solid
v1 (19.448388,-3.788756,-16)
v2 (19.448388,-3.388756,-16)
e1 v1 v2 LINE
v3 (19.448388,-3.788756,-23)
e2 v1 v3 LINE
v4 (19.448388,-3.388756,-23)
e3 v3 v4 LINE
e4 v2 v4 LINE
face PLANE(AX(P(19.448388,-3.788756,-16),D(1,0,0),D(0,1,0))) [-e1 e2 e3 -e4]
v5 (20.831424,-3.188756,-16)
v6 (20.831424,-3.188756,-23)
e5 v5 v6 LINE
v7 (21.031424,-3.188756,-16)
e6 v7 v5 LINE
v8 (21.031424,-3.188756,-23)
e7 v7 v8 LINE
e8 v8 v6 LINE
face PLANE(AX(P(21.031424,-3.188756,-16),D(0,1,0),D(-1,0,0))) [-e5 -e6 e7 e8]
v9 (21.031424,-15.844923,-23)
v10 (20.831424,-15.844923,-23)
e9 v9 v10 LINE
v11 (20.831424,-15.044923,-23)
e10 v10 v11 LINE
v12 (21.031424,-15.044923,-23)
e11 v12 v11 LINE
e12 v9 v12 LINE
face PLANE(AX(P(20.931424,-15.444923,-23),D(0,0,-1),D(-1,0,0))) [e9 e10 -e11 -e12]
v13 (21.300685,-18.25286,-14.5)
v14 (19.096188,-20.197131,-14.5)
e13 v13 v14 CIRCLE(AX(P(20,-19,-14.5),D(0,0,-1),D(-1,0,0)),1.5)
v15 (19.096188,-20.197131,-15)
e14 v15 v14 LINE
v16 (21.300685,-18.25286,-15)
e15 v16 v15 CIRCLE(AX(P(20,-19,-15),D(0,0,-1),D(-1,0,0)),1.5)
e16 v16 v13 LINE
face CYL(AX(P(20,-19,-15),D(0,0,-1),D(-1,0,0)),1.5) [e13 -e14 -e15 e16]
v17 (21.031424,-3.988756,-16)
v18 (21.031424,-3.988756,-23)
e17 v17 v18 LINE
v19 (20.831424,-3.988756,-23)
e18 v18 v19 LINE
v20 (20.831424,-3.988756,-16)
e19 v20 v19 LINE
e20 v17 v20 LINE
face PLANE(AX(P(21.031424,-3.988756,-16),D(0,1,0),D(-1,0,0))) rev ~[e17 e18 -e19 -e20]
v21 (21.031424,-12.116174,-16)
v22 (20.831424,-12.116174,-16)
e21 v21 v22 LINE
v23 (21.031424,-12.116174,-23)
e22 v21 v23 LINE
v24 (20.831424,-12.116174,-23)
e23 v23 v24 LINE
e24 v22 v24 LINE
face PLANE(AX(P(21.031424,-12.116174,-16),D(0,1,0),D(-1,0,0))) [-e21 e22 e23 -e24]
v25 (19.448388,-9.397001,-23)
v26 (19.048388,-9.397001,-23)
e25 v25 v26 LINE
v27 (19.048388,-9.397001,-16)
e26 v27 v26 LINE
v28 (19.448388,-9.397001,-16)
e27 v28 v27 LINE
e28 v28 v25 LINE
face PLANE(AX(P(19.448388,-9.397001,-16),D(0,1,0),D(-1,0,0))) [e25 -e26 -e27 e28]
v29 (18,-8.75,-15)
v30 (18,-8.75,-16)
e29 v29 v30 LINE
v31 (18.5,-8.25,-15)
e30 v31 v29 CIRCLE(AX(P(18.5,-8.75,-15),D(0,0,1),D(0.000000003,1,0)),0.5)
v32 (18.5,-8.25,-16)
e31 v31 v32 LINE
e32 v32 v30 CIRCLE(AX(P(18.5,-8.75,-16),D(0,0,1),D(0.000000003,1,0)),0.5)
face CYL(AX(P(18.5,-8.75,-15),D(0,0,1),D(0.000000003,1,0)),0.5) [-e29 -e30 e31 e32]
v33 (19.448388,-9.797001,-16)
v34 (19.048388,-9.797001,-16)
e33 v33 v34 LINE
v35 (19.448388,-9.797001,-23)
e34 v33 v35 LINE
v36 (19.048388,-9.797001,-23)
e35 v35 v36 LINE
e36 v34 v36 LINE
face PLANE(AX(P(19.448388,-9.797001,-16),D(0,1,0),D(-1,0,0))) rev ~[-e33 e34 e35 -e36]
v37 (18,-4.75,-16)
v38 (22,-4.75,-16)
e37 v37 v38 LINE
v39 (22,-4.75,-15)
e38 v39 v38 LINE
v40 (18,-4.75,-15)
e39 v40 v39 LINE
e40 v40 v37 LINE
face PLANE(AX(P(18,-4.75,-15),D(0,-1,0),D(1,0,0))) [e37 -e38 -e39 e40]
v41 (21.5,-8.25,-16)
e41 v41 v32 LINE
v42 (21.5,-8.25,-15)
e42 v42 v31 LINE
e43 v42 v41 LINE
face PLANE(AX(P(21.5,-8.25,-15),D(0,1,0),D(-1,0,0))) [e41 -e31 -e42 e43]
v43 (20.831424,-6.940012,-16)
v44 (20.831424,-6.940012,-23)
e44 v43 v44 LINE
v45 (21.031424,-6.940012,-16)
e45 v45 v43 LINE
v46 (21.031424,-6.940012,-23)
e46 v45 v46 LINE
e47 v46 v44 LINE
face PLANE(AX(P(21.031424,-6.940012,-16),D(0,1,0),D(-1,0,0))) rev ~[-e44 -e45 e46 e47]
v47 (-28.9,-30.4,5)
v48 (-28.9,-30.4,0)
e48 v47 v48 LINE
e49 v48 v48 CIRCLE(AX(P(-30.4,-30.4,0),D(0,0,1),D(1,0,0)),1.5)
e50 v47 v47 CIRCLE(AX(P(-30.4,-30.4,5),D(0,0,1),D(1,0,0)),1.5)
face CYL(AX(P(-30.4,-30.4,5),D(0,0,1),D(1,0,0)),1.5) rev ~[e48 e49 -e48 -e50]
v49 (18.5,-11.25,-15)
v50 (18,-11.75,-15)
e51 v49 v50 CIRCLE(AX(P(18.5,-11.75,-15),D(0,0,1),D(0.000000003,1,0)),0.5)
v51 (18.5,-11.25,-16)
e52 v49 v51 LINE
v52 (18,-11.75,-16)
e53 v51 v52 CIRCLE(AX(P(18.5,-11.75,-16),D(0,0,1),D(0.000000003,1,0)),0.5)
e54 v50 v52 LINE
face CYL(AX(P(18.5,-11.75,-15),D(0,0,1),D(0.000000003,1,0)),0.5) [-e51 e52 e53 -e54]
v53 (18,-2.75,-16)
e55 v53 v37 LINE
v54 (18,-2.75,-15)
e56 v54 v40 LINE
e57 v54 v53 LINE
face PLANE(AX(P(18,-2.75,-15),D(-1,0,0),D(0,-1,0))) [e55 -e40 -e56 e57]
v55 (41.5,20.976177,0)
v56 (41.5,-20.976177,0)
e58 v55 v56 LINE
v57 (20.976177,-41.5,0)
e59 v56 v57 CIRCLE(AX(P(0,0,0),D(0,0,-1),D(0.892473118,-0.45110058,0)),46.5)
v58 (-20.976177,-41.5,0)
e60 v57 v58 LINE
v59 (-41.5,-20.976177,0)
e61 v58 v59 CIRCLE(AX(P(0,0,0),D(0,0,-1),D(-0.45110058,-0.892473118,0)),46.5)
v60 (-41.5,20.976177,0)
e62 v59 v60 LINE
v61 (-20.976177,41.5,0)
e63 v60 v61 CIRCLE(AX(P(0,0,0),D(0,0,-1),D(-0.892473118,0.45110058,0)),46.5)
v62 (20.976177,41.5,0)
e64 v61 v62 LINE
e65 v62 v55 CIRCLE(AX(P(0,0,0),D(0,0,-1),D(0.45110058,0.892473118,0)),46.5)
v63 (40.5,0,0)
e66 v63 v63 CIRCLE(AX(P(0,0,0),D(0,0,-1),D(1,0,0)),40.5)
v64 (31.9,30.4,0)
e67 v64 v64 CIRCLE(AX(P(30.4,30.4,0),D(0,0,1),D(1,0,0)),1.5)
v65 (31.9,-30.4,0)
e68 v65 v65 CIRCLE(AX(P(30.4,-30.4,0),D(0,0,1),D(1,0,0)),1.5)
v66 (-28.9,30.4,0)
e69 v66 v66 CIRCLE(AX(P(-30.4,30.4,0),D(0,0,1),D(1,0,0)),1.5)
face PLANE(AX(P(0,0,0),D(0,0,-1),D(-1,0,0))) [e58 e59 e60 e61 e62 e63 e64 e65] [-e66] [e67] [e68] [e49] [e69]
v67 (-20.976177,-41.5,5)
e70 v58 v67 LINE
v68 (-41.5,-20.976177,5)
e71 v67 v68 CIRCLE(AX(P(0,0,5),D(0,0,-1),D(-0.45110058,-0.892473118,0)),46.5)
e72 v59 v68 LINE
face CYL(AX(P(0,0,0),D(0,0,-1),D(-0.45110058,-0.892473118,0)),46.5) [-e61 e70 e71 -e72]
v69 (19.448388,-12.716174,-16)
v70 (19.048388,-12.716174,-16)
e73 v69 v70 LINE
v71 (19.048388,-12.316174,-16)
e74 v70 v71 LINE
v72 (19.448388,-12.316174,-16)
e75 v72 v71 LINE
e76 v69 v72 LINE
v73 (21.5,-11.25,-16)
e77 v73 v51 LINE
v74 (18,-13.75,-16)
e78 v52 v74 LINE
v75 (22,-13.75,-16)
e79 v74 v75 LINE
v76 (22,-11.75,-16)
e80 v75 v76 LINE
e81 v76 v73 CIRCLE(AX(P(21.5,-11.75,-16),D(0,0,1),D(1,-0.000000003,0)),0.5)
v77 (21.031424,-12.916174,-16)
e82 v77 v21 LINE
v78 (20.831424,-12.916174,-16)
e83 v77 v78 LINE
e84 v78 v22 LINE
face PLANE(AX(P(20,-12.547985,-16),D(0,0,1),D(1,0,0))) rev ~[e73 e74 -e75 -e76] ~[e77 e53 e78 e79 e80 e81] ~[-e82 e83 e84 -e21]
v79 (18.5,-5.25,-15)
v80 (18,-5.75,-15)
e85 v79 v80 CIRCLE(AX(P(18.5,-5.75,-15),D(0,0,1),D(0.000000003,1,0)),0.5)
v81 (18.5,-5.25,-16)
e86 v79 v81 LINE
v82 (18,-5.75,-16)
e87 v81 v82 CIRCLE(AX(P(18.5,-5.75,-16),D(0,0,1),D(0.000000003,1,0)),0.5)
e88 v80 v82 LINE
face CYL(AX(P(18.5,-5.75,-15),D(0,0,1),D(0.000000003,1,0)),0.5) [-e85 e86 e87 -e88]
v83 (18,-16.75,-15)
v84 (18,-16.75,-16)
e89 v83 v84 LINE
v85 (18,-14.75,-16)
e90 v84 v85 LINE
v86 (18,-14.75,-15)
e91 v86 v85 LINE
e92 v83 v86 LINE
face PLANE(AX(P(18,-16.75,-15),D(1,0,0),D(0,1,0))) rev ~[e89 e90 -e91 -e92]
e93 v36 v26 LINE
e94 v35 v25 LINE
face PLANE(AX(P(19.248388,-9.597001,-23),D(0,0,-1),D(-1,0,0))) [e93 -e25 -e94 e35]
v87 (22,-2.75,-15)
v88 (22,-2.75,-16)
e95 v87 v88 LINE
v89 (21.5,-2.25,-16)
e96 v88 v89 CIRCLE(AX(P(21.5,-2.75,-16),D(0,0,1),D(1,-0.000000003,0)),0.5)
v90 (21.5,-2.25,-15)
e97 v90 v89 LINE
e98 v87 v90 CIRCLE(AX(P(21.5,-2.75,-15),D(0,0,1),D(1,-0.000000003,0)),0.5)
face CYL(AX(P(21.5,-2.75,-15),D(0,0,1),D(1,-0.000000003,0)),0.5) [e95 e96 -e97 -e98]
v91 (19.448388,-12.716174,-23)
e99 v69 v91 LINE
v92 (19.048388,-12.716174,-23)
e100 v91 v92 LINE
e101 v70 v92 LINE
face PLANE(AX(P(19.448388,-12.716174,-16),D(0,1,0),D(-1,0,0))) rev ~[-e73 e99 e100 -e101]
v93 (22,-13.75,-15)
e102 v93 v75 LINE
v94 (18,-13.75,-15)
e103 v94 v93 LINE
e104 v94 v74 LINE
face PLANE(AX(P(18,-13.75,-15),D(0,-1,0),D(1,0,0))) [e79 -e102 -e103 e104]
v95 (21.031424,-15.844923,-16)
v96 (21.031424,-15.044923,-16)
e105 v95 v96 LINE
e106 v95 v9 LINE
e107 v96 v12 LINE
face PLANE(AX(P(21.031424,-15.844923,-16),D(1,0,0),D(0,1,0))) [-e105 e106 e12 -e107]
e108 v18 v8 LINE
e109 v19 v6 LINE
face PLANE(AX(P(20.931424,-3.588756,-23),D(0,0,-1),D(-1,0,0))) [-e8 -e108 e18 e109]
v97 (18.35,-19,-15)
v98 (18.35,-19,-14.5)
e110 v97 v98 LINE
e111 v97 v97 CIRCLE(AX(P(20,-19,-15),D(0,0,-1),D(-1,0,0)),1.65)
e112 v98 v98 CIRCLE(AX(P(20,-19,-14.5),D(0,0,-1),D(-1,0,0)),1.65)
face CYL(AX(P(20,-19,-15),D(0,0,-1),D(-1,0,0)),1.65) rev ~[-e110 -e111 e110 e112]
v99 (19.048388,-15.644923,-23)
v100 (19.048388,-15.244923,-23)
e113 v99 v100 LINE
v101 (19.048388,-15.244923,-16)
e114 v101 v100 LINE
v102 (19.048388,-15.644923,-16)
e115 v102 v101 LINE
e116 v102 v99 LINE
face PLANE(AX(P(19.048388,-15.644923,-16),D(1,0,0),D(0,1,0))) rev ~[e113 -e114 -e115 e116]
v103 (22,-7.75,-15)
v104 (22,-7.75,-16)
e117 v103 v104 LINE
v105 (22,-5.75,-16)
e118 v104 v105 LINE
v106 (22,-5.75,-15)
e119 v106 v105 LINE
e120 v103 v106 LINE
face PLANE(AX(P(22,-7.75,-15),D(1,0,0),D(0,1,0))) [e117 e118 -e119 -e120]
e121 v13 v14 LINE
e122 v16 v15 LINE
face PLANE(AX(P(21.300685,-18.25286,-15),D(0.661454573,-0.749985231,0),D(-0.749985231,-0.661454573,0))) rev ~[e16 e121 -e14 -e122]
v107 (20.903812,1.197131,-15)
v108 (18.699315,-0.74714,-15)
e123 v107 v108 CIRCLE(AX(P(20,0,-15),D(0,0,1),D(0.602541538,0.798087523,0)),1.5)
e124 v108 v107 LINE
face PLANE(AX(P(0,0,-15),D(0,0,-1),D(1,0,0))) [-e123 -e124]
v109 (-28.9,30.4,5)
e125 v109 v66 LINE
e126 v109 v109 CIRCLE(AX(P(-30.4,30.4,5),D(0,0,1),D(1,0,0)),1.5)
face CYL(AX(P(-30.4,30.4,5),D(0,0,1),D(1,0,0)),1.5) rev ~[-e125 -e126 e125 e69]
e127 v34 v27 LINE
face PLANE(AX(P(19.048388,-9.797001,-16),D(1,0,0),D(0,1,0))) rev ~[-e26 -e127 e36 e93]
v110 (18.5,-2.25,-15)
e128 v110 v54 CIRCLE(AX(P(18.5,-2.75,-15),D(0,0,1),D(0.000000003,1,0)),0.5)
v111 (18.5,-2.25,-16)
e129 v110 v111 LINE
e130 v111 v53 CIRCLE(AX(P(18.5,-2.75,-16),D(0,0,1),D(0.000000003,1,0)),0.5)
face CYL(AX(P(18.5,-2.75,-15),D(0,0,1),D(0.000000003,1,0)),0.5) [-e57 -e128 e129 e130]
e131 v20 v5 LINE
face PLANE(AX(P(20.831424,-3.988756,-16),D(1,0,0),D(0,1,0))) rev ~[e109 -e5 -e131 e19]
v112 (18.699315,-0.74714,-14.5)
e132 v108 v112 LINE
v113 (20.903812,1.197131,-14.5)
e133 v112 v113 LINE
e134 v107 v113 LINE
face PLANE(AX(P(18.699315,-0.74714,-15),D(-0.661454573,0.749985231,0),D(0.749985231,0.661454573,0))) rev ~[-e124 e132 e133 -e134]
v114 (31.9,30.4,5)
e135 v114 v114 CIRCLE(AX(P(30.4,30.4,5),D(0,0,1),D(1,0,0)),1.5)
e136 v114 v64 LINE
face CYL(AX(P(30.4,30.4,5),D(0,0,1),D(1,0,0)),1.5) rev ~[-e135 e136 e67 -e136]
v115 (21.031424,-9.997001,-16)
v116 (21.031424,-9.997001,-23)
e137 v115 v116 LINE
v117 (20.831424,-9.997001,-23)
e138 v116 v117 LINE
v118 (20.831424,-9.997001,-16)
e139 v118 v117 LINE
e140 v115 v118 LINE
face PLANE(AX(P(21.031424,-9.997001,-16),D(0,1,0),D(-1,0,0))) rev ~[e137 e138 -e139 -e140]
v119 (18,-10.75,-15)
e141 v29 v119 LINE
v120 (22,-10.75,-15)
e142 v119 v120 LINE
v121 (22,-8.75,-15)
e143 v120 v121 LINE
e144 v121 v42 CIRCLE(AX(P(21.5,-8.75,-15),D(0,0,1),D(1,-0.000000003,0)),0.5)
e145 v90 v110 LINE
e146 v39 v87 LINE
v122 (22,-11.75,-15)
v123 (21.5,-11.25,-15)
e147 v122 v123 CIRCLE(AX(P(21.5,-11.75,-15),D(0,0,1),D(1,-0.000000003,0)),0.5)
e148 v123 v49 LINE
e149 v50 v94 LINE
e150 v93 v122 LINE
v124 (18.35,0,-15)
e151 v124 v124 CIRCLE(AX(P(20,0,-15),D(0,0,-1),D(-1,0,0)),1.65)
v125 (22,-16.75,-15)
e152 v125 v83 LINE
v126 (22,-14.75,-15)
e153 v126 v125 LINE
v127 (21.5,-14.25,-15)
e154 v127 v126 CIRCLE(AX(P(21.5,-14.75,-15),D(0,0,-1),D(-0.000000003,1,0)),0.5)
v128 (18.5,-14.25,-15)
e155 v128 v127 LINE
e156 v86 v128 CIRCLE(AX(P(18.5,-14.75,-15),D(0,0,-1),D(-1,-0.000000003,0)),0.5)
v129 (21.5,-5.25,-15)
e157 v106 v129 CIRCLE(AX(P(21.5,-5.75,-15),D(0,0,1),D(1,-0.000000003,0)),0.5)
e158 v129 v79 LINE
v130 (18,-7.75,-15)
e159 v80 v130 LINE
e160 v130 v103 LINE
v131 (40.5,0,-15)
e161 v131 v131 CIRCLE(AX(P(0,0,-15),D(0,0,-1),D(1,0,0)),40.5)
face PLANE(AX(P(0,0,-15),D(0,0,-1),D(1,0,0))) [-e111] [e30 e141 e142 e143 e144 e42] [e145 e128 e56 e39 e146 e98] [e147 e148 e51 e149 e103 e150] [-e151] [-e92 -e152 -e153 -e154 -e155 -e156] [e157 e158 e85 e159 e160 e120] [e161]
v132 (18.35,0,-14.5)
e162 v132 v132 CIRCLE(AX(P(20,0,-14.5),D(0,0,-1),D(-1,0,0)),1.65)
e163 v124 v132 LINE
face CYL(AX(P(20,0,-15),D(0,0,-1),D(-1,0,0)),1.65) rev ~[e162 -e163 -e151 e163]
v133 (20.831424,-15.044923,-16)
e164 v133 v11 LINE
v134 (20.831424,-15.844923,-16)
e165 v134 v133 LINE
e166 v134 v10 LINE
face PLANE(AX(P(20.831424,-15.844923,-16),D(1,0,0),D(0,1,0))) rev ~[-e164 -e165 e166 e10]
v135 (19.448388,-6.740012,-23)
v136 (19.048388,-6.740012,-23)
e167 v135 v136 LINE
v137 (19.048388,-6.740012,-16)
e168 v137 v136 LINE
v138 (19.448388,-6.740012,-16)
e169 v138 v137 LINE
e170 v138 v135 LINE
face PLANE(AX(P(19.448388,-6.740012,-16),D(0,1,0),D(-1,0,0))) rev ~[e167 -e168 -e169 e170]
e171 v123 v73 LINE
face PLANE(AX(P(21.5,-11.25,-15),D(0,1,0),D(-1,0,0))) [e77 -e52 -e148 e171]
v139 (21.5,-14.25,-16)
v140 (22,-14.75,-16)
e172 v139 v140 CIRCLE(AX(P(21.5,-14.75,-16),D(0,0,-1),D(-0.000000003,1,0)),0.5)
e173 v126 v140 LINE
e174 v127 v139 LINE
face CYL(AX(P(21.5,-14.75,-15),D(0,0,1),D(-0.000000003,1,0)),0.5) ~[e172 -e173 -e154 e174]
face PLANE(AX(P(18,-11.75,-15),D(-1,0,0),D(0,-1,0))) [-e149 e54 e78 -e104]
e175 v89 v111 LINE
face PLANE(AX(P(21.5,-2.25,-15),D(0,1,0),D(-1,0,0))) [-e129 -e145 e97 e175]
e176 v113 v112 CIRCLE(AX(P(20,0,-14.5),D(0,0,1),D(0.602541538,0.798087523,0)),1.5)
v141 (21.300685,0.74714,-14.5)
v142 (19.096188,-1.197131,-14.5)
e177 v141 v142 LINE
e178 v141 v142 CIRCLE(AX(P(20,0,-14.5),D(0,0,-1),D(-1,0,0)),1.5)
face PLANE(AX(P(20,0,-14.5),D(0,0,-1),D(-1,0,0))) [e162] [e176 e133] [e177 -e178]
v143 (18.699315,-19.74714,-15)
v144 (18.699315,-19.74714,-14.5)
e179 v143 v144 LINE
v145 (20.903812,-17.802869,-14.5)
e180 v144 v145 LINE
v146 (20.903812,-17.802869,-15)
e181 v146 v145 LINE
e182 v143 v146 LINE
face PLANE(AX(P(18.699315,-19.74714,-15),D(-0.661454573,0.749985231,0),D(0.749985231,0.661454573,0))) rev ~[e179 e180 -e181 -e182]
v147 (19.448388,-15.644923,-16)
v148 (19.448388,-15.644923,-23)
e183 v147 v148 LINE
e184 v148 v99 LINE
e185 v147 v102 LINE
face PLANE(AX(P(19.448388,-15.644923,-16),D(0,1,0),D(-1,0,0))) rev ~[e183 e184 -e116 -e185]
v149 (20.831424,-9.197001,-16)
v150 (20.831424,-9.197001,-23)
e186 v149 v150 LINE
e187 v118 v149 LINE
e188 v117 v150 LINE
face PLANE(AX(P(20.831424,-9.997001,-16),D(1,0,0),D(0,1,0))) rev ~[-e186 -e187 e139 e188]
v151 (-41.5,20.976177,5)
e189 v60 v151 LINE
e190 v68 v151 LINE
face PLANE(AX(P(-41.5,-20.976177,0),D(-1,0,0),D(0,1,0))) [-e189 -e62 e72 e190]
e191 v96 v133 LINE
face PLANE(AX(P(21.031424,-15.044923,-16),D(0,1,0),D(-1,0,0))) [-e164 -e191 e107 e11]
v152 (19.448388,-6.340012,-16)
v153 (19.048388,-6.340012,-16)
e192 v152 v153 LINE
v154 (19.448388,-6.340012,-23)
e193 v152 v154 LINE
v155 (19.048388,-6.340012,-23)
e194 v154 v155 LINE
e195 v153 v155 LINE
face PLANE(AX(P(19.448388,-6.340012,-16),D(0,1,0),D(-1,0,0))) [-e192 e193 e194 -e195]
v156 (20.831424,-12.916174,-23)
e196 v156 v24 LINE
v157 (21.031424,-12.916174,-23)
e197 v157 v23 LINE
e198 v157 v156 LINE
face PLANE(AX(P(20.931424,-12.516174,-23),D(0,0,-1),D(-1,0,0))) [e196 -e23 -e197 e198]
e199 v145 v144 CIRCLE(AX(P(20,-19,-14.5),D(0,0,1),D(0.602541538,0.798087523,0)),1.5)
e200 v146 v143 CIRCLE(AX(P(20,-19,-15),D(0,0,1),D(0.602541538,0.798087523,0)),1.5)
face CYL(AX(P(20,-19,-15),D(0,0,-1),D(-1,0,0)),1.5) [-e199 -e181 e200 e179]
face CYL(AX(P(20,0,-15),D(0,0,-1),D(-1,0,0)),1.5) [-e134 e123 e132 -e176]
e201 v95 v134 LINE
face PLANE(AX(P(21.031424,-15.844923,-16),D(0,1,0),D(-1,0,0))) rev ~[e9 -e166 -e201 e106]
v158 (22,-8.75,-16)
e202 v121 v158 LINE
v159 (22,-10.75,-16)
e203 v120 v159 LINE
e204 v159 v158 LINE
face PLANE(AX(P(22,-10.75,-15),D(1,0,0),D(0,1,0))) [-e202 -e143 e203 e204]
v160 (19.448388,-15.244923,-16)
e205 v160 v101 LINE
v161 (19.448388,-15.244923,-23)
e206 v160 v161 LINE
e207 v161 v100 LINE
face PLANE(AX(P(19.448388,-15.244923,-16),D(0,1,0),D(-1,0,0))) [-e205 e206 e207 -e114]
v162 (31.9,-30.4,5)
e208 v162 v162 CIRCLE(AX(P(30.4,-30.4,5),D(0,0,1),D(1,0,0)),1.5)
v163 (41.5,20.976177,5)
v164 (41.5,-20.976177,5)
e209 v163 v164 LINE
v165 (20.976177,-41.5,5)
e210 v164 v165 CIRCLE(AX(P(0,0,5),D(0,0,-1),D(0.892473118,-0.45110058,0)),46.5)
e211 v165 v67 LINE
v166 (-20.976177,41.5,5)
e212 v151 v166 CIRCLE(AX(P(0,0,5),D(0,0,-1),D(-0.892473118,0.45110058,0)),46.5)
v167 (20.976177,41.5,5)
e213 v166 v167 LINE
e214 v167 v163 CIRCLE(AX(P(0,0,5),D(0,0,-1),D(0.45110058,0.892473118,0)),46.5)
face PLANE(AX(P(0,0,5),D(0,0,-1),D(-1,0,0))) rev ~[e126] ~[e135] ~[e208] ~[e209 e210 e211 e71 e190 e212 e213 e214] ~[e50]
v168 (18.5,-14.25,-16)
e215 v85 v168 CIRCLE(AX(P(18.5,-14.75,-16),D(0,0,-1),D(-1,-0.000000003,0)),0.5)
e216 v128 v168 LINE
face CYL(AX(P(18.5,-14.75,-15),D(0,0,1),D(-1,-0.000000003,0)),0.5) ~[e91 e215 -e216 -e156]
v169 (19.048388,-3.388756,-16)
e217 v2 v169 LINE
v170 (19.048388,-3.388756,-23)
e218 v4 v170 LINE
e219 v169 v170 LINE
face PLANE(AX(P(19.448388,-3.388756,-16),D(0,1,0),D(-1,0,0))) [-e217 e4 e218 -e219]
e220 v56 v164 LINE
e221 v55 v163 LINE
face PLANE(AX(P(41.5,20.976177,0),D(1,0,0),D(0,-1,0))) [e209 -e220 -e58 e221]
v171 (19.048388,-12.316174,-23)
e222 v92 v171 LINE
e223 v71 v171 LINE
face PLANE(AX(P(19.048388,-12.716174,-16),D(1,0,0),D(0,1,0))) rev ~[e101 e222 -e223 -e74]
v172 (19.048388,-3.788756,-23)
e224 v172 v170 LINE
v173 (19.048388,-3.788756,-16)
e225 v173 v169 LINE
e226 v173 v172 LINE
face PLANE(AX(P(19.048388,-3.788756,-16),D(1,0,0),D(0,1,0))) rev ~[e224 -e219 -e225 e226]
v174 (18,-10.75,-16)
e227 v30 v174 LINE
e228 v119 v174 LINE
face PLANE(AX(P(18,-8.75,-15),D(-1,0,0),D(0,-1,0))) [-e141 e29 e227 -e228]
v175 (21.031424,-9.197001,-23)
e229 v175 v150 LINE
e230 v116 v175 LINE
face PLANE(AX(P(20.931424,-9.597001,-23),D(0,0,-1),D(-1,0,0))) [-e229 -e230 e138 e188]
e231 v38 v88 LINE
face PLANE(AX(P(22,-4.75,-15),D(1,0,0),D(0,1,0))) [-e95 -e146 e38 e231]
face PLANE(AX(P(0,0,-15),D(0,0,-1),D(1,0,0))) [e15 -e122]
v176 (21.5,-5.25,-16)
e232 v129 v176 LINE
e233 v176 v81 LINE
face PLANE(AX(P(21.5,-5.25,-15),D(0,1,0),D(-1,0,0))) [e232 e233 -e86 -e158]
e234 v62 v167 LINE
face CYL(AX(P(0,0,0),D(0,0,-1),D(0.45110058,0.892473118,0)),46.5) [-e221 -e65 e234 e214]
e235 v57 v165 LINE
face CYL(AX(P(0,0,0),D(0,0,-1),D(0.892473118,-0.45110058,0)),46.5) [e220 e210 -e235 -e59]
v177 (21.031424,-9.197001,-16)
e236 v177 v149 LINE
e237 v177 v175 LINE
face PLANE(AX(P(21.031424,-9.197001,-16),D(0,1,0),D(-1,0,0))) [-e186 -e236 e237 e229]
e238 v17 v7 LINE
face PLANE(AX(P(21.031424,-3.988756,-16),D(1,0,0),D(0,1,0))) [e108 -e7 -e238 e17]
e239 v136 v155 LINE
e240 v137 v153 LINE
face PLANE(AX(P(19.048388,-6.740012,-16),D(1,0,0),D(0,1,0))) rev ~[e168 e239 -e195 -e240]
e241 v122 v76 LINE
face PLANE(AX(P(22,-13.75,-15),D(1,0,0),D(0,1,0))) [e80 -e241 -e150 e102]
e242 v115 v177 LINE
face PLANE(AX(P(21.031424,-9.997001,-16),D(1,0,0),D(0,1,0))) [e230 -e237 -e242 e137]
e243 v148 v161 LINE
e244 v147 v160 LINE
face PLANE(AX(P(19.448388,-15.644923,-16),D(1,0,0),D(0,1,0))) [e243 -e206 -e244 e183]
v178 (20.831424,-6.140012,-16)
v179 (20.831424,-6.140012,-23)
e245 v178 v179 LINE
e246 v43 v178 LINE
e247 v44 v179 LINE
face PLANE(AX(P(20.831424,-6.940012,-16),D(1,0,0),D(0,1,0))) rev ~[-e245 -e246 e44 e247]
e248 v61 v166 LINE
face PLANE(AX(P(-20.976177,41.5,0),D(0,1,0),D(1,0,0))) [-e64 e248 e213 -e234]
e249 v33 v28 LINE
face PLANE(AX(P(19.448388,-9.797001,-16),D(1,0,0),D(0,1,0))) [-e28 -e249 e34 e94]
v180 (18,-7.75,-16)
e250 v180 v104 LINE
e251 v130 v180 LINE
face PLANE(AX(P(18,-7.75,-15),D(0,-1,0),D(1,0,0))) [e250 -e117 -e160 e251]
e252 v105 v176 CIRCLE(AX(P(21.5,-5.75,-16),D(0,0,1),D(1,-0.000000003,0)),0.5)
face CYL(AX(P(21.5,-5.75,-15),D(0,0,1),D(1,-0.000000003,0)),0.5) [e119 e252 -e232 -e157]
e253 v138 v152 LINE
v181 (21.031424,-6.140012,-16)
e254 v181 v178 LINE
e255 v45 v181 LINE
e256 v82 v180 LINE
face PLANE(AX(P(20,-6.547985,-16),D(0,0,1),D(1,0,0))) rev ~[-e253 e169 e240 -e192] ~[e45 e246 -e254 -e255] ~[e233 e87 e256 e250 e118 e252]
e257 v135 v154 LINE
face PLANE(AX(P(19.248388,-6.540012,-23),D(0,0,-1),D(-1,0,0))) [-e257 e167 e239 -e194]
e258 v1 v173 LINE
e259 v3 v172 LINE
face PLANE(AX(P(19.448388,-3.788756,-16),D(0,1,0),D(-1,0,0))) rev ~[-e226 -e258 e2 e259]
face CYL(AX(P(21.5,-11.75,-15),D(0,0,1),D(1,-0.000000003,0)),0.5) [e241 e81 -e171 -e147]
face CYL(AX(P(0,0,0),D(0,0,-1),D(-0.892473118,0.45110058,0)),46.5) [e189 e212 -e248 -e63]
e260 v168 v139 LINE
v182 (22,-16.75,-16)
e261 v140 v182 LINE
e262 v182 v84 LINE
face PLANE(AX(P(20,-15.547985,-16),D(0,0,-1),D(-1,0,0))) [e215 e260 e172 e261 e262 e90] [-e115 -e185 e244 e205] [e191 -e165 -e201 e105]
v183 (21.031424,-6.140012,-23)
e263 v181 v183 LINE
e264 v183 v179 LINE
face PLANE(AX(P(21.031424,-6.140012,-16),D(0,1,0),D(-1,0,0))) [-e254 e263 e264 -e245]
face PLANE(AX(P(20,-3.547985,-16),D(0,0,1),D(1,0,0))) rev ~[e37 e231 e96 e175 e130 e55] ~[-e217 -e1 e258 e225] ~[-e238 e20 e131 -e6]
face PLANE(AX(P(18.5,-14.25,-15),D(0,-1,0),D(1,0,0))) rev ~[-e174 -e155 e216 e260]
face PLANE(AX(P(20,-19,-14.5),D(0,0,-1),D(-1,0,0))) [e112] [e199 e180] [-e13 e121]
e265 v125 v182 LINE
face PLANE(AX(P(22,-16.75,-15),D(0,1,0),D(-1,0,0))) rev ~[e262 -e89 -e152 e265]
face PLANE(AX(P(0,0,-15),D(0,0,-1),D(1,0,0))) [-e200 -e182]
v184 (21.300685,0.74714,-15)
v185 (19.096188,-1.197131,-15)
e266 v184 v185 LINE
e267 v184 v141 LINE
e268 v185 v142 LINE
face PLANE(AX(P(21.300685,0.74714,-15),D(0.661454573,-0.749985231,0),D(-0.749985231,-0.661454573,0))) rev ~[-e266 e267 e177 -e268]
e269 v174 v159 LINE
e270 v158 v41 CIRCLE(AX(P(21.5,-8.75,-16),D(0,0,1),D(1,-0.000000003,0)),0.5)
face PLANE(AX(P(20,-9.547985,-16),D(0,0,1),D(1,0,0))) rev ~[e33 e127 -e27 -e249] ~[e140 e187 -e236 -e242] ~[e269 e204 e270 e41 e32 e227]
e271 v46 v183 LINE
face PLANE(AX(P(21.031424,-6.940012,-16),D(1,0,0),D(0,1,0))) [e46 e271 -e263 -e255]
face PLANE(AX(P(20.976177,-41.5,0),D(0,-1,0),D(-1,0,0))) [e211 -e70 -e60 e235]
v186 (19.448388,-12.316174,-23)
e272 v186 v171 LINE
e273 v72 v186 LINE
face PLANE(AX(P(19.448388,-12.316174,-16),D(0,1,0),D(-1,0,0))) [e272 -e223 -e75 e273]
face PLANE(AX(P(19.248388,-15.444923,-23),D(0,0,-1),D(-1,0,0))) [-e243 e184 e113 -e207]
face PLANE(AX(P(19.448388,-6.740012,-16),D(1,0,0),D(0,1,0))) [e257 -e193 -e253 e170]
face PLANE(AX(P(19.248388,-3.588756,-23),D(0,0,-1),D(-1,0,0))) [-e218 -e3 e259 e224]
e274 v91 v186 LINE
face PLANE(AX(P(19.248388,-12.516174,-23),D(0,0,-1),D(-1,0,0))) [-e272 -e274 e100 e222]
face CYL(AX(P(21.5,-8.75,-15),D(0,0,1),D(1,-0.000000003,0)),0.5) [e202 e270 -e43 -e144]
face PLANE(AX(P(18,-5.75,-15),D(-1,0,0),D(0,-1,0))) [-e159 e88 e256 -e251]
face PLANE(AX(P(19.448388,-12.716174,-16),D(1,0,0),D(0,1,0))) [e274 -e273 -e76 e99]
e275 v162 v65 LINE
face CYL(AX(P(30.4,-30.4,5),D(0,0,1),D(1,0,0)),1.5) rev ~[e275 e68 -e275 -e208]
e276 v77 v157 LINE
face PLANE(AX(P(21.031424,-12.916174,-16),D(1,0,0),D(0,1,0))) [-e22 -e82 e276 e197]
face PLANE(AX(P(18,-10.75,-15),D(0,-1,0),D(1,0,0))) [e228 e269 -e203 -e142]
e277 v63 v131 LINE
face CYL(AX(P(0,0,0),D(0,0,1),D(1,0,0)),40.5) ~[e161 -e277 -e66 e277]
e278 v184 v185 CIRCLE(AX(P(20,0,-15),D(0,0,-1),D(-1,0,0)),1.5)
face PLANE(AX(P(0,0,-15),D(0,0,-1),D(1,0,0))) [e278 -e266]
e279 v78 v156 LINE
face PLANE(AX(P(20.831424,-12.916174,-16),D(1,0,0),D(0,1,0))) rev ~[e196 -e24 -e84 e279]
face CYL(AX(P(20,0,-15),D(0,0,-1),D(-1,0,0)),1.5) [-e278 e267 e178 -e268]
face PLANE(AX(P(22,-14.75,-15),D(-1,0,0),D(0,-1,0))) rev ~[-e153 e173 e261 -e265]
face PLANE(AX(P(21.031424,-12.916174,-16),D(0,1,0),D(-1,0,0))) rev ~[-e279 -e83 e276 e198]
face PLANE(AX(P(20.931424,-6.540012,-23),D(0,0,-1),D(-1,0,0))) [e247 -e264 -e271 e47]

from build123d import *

# Parameters (mm, degrees)
EXTRUDE_1_DEPTH     = 5
SKETCH_2_R          = 1.5
CUT_EXTRUDE_1_DEPTH = 19
SKETCH_3_R          = 40.5
EXTRUDE_2_DEPTH     = 15
EXTRUDE_3_DEPTH     = 1
SKETCH_7_W          = 0.4
SKETCH_7_H          = 0.4
SKETCH_7_W_2        = 0.2
SKETCH_7_H_2        = 0.8
EXTRUDE_4_DEPTH     = 7
SKETCH_8_R          = 1.65
SKETCH_8_R_2        = 1.5
CUT_EXTRUDE_2_DEPTH = 0.5
CUT_EXTRUDE_3_DEPTH = 0.5


with BuildPart() as part:
    # 草图1 → 凸台-拉伸1 (new body)
    with BuildSketch(Plane.XY):
        with BuildLine():
            Line((-20.976176963, 41.5), (20.976176963, 41.5))
            ThreePointArc((20.976176963, 41.5), (32.880465325, 32.880465325), (41.5, 20.976176963))
            Line((41.5, 20.976176963), (41.5, -20.976176963))
            ThreePointArc((41.5, -20.976176963), (32.880465325, -32.880465325), (20.976176963, -41.5))
            Line((20.976176963, -41.5), (-20.976176963, -41.5))
            ThreePointArc((-20.976176963, -41.5), (-32.880465325, -32.880465325), (-41.5, -20.976176963))
            Line((-41.5, -20.976176963), (-41.5, 20.976176963))
            ThreePointArc((-41.5, 20.976176963), (-32.880465325, 32.880465325), (-20.976176963, 41.5))
        make_face()
    extrude(amount=EXTRUDE_1_DEPTH)

    # 草图2 → 切除-拉伸1 (cut)
    with BuildSketch(Plane.XY.offset(5)):
        with Locations((-30.4, 30.4)):
            Circle(SKETCH_2_R)
        with Locations((30.4, 30.4)):
            Circle(SKETCH_2_R)
        with Locations((30.4, -30.4)):
            Circle(SKETCH_2_R)
        with Locations((-30.4, -30.4)):
            Circle(SKETCH_2_R)
    extrude(amount=-CUT_EXTRUDE_1_DEPTH, mode=Mode.SUBTRACT)

    # 草图3 → 凸台-拉伸2 (add)
    with BuildSketch(Plane(origin=(0, 0, 0), x_dir=(-1, 0, 0), z_dir=(0, 0, -1))):
        with Locations(Location((0, 0, 0), (0, 0, 180))):
            Circle(SKETCH_3_R)
    extrude(amount=EXTRUDE_2_DEPTH)

    # 草图6 → 凸台-拉伸3 (add)
    with BuildSketch(Plane(origin=(0, 0, -15), x_dir=(-1, 0, 0), z_dir=(0, 0, -1))):
        with BuildLine():
            Line((-18, -5.75), (-18, -7.75))
            Line((-18, -7.75), (-22, -7.75))
            Line((-22, -7.75), (-22, -5.75))
            ThreePointArc((-22, -5.75), (-21.853553391, -5.396446609), (-21.5, -5.25))
            Line((-21.5, -5.25), (-18.5, -5.25))
            ThreePointArc((-18.5, -5.25), (-18.146446609, -5.396446609), (-18, -5.75))
        make_face()
        with BuildLine():
            Line((-21.5, -8.25), (-18.5, -8.25))
            ThreePointArc((-18.5, -8.25), (-18.146446609, -8.396446609), (-18, -8.75))
            Line((-18, -8.75), (-18, -10.75))
            Line((-18, -10.75), (-22, -10.75))
            Line((-22, -10.75), (-22, -8.75))
            ThreePointArc((-22, -8.75), (-21.853553391, -8.396446609), (-21.5, -8.25))
        make_face()
        with BuildLine():
            Line((-18, -2.75), (-18, -4.75))
            Line((-18, -4.75), (-22, -4.75))
            Line((-22, -4.75), (-22, -2.75))
            ThreePointArc((-22, -2.75), (-21.853553391, -2.396446609), (-21.5, -2.25))
            Line((-21.5, -2.25), (-18.5, -2.25))
            ThreePointArc((-18.5, -2.25), (-18.146446609, -2.396446609), (-18, -2.75))
        make_face()
        with BuildLine():
            Line((-21.5, -11.25), (-18.5, -11.25))
            ThreePointArc((-18.5, -11.25), (-18.146446609, -11.396446609), (-18, -11.75))
            Line((-18, -11.75), (-18, -13.75))
            Line((-18, -13.75), (-22, -13.75))
            Line((-22, -13.75), (-22, -11.75))
            ThreePointArc((-22, -11.75), (-21.853553391, -11.396446609), (-21.5, -11.25))
        make_face()
        with BuildLine():
            Line((-22, -14.75), (-22, -16.75))
            Line((-22, -16.75), (-18, -16.75))
            Line((-18, -16.75), (-18, -14.75))
            ThreePointArc((-18, -14.75), (-18.146446609, -14.396446609), (-18.5, -14.25))
            Line((-18.5, -14.25), (-21.5, -14.25))
            ThreePointArc((-21.5, -14.25), (-21.853553391, -14.396446609), (-22, -14.75))
        make_face()
    extrude(amount=EXTRUDE_3_DEPTH)

    # 草图7 → 凸台-拉伸4 (add)
    with BuildSketch(Plane(origin=(0, 0, -16), x_dir=(-1, 0, 0), z_dir=(0, 0, -1))):
        with Locations((-19.248388447, -6.540012069)):
            Rectangle(SKETCH_7_W, SKETCH_7_H)
        with Locations((-20.931423751, -3.588755831)):
            Rectangle(SKETCH_7_W_2, SKETCH_7_H_2)
        with Locations((-19.248388447, -3.588755831)):
            Rectangle(SKETCH_7_W, SKETCH_7_H)
        with Locations((-20.931423751, -6.540012069)):
            Rectangle(SKETCH_7_W_2, SKETCH_7_H_2)
        with Locations((-19.248388447, -9.597001128)):
            Rectangle(SKETCH_7_W, SKETCH_7_H)
        with Locations((-20.931423751, -9.597001128)):
            Rectangle(SKETCH_7_W_2, SKETCH_7_H_2)
        with Locations((-20.931423751, -12.516173633)):
            Rectangle(SKETCH_7_W_2, SKETCH_7_H_2)
        with Locations((-19.248388447, -12.516173633)):
            Rectangle(SKETCH_7_W, SKETCH_7_H)
        with Locations((-19.248388447, -15.44492275)):
            Rectangle(SKETCH_7_W, SKETCH_7_H)
        with Locations((-20.931423751, -15.44492275)):
            Rectangle(SKETCH_7_W_2, SKETCH_7_H_2)
    extrude(amount=EXTRUDE_4_DEPTH)

    # 草图8 → 切除-拉伸2 (cut)
    # profile 1 of 2: a face of its own
    with BuildSketch(Plane(origin=(0, 0, -15), x_dir=(-1, 0, 0), z_dir=(0, 0, -1))):
        with Locations((-20, 0)):
            Circle(SKETCH_8_R)
        with Locations((-20, 0)):
            Circle(SKETCH_8_R_2, mode=Mode.SUBTRACT)
    # profile 2 of 2: a face of its own
    with BuildSketch(Plane(origin=(0, 0, -15), x_dir=(-1, 0, 0), z_dir=(0, 0, -1))):
        with Locations((-20, -19)):
            Circle(SKETCH_8_R)
        with Locations((-20, -19)):
            Circle(SKETCH_8_R_2, mode=Mode.SUBTRACT)
    extrude(amount=-CUT_EXTRUDE_2_DEPTH, mode=Mode.SUBTRACT)

    # 草图9 → 切除-拉伸3 (cut)
    with BuildSketch(Plane(origin=(0, 0, -15), x_dir=(-1, 0, 0), z_dir=(0, 0, -1))):
        with BuildLine():
            Line((-21.300685051, 0.747140146), (-19.096187693, -1.197131285))
            ThreePointArc((-19.096187693, -1.197131285), (-18.875022153, -0.99218186), (-18.699314949, -0.747140146))
            Line((-18.699314949, -0.747140146), (-20.903812307, 1.197131285))
            ThreePointArc((-20.903812307, 1.197131285), (-21.124977847, 0.99218186), (-21.300685051, 0.747140146))
        make_face()
        with BuildLine():
            Line((-21.300685051, -18.252859854), (-19.096187693, -20.197131285))
            ThreePointArc((-19.096187693, -20.197131285), (-18.875022153, -19.99218186), (-18.699314949, -19.747140146))
            Line((-18.699314949, -19.747140146), (-20.903812307, -17.802868715))
            ThreePointArc((-20.903812307, -17.802868715), (-21.124977847, -18.00781814), (-21.300685051, -18.252859854))
        make_face()
    extrude(amount=-CUT_EXTRUDE_3_DEPTH, mode=Mode.SUBTRACT)


solid = part.part
